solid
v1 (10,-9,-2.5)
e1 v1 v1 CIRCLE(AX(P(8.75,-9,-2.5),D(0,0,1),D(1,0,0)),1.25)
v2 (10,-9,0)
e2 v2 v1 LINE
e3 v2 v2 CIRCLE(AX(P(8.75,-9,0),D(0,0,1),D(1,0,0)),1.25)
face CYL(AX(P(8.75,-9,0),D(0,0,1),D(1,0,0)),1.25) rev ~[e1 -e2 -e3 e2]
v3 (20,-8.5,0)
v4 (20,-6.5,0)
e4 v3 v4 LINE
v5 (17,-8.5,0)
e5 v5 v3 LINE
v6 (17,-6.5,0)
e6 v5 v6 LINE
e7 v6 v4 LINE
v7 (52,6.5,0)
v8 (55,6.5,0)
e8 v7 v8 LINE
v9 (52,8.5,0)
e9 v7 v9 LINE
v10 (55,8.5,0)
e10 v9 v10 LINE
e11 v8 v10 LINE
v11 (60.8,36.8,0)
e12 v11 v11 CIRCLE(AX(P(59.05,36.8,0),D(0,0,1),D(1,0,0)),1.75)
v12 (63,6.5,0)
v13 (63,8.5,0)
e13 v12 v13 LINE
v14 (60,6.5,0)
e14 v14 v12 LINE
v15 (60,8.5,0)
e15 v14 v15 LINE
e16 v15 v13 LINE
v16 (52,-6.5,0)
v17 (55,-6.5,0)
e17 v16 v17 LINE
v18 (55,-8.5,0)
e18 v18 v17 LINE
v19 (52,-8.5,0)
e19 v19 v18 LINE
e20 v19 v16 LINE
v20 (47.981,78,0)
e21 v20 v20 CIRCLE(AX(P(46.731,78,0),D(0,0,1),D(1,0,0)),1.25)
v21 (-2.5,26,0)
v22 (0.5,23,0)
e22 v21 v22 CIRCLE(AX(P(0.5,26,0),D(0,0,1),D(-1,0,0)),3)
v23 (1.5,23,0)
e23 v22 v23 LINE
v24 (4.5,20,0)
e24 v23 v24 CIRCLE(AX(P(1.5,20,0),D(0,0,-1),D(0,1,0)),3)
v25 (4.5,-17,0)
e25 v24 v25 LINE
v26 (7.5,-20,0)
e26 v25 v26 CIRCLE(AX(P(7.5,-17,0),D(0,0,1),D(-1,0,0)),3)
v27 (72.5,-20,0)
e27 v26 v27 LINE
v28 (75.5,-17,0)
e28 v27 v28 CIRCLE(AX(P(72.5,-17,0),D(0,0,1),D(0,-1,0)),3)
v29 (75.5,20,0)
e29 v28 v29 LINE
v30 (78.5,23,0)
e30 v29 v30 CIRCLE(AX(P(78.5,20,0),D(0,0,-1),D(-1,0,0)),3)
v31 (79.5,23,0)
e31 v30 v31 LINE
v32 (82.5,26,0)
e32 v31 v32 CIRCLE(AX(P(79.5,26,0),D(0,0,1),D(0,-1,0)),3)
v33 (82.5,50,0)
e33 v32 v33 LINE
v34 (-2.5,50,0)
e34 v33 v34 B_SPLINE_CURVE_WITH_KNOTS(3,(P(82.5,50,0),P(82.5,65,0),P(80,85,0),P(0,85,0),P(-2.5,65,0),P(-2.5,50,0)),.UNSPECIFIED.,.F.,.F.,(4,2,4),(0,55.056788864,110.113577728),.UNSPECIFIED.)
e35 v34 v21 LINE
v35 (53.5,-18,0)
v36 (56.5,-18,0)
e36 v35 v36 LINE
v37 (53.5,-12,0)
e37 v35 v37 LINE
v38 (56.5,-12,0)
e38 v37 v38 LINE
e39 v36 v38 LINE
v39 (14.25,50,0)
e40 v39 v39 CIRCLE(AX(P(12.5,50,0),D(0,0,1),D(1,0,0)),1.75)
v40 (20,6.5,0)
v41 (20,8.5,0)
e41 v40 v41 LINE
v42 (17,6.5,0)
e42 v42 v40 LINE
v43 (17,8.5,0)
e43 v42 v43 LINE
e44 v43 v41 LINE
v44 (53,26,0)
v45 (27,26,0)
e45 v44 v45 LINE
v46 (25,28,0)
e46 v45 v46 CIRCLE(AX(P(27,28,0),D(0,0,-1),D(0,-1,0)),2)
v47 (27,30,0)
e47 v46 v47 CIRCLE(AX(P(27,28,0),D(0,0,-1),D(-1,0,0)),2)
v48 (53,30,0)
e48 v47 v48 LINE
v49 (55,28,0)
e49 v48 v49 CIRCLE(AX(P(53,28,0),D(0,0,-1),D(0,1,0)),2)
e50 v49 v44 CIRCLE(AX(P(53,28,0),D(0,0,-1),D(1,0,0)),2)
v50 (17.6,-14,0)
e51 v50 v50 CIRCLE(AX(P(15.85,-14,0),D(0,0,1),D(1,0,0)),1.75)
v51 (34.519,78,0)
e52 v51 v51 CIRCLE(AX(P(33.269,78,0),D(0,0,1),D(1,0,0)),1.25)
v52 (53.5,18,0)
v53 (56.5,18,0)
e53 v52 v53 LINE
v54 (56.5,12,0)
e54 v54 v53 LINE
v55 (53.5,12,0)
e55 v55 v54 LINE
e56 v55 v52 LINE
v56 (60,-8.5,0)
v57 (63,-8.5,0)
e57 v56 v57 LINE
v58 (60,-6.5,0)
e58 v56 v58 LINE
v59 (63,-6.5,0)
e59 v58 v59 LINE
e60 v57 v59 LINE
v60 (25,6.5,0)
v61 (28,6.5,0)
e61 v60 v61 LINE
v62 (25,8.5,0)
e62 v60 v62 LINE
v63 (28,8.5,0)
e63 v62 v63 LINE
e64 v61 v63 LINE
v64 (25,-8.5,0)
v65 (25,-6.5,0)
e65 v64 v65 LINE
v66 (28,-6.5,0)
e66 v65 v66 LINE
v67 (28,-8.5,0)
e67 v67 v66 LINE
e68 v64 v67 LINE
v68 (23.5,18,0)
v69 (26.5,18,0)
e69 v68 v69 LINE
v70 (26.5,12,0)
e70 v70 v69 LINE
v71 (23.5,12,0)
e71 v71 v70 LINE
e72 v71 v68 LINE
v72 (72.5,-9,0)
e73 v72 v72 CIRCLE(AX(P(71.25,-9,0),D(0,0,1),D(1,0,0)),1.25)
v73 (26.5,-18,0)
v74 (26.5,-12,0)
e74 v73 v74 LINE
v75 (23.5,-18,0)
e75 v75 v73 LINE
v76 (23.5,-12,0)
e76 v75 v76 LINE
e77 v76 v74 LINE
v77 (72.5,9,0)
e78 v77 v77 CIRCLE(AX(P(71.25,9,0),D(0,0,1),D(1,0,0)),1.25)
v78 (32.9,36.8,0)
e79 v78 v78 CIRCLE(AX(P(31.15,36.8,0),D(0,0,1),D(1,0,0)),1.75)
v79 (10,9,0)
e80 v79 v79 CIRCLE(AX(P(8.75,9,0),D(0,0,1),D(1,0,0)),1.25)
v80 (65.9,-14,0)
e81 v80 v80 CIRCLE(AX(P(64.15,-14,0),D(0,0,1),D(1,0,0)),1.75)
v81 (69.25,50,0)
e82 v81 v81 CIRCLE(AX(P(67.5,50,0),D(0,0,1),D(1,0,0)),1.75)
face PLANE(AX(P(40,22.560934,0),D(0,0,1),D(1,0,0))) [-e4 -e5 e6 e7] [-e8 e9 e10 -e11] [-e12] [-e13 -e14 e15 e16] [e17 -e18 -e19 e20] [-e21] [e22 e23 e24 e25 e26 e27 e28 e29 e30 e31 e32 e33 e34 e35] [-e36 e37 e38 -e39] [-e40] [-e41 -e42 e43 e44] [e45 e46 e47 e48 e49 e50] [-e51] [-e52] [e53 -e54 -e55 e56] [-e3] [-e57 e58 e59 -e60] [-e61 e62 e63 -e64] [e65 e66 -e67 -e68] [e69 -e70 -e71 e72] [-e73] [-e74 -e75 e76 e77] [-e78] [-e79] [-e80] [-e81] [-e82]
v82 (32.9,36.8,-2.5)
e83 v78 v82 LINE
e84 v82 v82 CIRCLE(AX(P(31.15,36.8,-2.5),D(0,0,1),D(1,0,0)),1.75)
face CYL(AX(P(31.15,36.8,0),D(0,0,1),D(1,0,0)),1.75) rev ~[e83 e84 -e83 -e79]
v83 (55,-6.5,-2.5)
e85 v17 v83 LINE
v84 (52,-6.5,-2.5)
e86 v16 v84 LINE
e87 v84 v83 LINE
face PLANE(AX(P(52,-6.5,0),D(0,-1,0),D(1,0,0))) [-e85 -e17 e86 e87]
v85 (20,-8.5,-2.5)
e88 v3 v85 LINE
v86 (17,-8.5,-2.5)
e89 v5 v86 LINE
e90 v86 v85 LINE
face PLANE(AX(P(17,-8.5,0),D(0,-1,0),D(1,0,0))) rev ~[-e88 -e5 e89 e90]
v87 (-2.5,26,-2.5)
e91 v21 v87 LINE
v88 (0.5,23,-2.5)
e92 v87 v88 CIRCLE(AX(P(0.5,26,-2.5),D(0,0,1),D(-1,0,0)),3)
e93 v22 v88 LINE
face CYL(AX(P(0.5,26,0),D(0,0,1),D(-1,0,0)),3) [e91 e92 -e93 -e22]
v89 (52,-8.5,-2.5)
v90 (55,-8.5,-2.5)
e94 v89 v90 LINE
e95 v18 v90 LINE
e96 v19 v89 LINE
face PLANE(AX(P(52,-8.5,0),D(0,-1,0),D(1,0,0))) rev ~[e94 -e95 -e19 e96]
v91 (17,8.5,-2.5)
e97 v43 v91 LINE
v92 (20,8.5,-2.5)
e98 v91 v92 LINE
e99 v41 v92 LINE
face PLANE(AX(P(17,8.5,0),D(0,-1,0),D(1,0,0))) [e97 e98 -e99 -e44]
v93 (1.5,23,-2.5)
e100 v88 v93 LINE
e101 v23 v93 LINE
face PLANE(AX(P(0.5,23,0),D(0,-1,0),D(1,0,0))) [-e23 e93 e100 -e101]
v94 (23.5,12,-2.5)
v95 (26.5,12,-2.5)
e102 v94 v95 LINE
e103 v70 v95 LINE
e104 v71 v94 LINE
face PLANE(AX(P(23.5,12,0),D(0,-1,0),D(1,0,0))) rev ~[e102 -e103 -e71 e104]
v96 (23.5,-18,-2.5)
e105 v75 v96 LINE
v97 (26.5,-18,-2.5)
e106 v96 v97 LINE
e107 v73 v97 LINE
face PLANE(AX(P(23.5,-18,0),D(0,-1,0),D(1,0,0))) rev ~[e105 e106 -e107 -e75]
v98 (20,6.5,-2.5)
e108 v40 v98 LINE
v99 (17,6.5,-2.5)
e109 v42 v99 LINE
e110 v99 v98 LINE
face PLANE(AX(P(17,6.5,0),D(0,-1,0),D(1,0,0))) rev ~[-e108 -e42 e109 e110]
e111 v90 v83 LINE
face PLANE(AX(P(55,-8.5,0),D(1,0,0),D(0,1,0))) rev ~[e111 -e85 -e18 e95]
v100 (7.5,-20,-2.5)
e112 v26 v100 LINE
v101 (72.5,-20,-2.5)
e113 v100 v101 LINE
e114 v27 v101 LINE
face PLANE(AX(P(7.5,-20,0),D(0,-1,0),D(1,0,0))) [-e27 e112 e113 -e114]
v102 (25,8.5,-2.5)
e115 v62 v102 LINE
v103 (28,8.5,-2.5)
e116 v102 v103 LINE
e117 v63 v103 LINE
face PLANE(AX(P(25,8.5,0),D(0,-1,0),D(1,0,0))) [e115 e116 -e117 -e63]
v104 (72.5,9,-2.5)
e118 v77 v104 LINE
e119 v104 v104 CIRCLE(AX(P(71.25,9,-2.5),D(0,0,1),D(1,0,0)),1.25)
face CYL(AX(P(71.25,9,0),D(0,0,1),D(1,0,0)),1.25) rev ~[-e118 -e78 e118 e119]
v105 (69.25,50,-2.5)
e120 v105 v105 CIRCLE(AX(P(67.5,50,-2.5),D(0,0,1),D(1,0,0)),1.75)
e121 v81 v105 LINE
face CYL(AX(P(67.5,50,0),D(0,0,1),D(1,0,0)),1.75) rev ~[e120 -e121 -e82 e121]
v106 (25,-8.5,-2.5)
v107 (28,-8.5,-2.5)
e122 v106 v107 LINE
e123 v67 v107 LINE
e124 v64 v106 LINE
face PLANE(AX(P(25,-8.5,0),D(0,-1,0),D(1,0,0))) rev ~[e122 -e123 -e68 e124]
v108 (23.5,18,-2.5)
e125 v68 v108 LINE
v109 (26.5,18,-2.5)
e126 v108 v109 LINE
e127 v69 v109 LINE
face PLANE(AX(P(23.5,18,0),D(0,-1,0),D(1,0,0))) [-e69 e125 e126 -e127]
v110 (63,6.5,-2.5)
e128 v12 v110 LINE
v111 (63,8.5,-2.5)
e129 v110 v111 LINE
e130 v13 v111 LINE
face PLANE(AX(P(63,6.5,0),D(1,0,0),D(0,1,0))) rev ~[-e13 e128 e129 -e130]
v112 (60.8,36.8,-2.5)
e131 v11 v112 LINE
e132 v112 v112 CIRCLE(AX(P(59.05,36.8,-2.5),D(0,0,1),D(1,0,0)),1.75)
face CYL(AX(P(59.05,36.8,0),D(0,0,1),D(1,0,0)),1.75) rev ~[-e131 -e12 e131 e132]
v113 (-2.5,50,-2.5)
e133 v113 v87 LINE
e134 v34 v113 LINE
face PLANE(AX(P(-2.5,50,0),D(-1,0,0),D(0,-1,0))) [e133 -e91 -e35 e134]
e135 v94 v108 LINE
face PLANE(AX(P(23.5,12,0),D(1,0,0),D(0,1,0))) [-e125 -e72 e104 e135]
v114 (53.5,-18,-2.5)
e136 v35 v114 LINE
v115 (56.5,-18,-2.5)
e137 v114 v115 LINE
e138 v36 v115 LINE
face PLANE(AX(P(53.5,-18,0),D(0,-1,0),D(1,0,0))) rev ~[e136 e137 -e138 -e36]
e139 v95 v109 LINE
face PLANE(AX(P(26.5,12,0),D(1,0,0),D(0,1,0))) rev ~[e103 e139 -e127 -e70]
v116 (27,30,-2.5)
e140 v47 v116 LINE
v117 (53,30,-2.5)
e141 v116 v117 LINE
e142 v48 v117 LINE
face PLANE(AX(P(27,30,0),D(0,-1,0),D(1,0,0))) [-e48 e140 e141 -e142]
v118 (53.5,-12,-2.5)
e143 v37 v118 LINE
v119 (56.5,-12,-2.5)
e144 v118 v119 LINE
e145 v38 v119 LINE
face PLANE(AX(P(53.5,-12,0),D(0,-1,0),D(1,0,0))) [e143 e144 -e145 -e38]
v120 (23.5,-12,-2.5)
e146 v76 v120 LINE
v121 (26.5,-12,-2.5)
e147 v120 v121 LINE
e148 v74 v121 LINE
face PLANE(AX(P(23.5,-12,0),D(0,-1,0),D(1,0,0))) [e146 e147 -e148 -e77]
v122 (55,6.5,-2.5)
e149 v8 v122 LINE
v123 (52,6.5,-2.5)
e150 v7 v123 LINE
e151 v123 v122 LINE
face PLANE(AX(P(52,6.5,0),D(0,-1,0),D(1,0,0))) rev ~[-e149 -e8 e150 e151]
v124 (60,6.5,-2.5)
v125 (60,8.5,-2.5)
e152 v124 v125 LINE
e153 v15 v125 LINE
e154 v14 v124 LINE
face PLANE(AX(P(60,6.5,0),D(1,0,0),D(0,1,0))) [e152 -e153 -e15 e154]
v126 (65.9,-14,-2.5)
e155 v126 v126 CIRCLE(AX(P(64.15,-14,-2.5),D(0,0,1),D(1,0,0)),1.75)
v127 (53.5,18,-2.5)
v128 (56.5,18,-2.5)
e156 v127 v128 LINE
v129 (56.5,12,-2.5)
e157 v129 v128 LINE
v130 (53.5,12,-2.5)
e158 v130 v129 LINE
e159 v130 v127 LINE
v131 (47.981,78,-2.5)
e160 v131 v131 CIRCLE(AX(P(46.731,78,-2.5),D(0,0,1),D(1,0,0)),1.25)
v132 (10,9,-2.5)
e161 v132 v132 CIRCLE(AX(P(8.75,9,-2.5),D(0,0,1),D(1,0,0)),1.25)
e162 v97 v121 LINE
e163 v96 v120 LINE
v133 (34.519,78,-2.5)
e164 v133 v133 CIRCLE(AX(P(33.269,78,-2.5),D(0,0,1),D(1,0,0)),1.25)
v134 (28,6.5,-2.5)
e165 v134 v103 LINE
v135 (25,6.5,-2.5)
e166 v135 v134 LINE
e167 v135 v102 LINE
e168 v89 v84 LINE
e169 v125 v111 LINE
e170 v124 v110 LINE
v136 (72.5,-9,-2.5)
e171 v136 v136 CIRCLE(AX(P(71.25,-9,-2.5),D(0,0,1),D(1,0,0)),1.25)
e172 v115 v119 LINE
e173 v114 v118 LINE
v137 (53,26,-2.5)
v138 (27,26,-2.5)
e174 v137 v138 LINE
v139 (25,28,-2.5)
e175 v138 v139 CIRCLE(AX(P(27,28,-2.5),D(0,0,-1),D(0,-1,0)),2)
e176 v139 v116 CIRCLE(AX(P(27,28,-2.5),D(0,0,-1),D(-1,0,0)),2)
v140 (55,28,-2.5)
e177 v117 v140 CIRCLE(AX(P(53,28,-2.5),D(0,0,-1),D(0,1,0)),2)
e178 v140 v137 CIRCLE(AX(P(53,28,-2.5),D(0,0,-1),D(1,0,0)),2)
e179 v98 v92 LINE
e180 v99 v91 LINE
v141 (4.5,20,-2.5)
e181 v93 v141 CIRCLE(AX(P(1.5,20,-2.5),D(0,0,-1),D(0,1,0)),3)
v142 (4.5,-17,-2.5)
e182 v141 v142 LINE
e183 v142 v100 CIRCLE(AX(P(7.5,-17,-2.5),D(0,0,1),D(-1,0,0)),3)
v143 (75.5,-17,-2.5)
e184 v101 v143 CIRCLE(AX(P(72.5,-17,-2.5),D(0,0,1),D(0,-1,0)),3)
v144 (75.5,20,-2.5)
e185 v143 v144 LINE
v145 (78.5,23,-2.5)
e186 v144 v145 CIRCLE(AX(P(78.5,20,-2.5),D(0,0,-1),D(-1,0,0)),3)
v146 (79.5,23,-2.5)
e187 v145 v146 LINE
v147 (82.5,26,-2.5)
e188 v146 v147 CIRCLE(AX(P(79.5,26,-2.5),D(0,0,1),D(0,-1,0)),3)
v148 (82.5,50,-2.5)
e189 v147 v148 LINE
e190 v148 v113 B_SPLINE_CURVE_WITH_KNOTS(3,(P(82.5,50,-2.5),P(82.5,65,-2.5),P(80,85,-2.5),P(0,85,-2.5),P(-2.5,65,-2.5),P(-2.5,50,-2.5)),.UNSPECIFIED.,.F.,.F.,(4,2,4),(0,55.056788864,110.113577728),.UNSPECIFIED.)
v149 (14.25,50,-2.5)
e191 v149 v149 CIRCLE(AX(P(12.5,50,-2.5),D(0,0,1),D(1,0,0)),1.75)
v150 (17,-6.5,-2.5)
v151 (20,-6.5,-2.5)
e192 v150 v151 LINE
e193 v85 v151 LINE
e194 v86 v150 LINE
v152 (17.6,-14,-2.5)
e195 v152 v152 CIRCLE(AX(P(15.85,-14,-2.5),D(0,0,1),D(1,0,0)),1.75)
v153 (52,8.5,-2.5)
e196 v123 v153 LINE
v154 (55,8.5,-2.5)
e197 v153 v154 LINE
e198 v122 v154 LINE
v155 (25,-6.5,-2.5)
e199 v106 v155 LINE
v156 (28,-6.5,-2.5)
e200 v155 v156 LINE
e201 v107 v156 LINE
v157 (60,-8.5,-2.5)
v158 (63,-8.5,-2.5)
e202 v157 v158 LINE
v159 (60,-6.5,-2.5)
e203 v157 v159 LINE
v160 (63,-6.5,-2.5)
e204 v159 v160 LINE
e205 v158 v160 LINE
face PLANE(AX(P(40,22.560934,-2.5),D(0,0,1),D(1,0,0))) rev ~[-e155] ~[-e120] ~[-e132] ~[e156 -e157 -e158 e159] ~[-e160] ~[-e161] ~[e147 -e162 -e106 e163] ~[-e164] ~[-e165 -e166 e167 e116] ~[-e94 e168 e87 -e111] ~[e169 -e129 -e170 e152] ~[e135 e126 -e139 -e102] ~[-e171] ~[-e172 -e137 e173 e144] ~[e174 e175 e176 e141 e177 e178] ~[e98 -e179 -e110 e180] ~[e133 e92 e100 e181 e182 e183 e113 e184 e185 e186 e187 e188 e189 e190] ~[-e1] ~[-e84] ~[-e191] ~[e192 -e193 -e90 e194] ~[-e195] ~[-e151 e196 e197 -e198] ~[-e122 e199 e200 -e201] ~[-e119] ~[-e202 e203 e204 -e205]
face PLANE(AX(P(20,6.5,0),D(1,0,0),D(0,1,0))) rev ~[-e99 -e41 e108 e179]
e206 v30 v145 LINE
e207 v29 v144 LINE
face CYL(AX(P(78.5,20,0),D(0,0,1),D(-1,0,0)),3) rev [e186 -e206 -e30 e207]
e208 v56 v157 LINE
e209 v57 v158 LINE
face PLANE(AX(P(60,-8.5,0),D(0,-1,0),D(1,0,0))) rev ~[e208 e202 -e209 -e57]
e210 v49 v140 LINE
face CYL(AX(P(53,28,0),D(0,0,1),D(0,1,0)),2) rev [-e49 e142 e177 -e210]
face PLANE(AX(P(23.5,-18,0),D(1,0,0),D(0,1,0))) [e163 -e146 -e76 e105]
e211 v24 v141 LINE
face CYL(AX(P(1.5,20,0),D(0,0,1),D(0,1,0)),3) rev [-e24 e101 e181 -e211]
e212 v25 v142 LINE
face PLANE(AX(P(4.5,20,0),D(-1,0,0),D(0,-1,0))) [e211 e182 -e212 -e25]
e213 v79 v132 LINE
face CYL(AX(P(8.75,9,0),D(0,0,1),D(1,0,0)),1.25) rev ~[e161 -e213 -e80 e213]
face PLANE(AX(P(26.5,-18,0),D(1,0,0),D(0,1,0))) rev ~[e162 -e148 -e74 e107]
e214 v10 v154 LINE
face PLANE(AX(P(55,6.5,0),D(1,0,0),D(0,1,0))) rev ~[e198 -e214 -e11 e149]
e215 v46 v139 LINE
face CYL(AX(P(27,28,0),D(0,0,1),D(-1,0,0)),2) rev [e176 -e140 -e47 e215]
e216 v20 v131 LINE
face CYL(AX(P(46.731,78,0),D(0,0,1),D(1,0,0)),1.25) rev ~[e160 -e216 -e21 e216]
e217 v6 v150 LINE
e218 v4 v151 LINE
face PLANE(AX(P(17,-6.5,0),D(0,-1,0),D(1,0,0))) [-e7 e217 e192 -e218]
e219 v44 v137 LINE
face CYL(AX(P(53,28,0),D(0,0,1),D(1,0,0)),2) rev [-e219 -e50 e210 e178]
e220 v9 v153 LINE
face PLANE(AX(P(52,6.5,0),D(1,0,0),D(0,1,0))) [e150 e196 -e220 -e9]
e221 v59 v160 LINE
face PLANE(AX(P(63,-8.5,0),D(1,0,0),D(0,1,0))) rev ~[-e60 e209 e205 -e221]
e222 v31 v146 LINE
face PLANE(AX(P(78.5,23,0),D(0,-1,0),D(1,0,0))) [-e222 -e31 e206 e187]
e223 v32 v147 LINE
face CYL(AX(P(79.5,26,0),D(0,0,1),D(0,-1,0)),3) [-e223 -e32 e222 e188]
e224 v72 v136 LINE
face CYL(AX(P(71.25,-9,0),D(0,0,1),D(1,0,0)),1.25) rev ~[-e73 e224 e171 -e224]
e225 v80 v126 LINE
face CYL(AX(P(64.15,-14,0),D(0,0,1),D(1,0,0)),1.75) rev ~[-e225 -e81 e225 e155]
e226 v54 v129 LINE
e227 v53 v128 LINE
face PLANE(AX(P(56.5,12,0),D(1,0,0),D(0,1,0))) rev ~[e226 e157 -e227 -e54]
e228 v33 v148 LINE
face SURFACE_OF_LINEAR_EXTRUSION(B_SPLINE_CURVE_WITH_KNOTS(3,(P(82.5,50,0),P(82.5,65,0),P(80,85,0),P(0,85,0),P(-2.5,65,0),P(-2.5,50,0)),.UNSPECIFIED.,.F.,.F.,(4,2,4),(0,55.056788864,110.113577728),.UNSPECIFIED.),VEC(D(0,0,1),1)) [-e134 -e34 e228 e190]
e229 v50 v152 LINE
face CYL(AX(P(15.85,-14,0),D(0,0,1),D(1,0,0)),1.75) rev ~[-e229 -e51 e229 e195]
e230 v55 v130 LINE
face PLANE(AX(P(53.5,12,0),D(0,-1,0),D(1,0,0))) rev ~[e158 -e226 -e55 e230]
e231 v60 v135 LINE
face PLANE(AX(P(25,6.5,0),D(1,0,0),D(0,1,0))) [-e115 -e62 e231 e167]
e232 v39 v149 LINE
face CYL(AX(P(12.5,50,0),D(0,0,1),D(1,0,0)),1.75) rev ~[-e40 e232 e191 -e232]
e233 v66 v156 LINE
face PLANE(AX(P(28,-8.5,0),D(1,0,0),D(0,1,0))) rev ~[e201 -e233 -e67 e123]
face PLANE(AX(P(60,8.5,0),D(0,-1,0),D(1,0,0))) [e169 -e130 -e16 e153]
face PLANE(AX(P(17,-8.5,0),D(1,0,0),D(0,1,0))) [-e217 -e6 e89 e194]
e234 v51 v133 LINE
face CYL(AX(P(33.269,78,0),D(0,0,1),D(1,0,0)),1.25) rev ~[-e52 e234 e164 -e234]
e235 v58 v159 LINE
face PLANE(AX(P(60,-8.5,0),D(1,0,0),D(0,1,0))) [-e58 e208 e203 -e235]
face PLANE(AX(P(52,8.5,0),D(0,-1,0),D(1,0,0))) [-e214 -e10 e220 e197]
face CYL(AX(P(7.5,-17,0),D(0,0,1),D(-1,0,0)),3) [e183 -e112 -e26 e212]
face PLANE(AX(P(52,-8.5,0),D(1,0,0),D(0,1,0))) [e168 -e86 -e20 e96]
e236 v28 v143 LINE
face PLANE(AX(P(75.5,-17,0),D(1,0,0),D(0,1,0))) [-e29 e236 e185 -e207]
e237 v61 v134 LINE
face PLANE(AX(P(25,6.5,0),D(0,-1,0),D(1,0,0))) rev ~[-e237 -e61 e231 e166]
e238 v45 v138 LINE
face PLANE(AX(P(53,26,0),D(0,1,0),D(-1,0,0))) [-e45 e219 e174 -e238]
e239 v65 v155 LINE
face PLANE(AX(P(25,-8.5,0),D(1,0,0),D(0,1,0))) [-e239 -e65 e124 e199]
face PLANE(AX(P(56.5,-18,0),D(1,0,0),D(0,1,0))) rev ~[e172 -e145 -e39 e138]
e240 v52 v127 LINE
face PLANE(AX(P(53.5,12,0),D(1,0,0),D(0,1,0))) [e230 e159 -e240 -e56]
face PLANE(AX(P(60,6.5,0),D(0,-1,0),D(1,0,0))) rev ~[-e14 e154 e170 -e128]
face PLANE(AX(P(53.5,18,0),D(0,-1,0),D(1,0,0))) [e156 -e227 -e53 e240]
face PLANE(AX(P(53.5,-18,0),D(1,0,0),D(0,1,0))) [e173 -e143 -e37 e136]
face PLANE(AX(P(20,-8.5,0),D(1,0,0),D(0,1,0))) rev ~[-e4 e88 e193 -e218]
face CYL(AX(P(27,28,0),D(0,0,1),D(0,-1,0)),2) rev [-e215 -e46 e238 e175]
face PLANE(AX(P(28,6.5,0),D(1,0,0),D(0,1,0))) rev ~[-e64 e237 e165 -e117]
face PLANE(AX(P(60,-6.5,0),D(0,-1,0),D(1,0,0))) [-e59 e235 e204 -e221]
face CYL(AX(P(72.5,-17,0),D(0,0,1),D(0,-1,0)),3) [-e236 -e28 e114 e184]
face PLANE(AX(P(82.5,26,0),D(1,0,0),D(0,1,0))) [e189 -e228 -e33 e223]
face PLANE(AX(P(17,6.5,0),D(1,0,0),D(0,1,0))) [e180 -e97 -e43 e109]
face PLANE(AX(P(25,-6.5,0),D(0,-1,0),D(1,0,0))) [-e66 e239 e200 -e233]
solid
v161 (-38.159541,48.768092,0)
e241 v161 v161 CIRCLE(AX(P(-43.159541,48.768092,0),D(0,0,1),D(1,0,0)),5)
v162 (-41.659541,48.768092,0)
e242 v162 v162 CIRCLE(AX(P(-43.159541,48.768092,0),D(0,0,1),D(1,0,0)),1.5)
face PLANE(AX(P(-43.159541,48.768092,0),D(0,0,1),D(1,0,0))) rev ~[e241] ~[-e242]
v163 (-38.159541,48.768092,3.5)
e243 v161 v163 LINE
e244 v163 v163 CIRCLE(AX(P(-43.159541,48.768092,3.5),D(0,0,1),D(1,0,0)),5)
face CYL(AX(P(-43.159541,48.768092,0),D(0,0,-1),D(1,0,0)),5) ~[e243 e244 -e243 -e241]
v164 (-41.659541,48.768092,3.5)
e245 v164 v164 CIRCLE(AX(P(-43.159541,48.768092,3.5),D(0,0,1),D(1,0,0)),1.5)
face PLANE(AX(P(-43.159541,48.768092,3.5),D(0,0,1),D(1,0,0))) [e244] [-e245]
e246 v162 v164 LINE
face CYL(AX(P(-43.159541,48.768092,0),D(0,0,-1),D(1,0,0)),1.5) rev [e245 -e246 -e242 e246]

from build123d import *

# Parameters (mm, degrees)
F0_R     = 1.75
F0_R_2   = 1.25
F0_W     = 3
F0_H     = 2
F0_H_2   = 6
F1_DEPTH = 2.5
F2_R     = 5
F2_R_2   = 1.5
F3_DEPTH = 3.5


with BuildPart() as f1:
    # F0 (on Top) → F1 (new body)
    with BuildSketch(Plane.XY):
        with BuildLine():
            Line((4.5, 20), (4.5, 6))
            Line((4.5, 6), (31.5, 6))
            Line((31.5, 6), (31.5, -6))
            Line((31.5, -6), (5.5, -6))
            Line((5.5, -6), (4.5, -6))
            Line((4.5, -6), (4.5, -17))
            ThreePointArc((4.5, -17), (5.3786796564, -19.1213203436), (7.5, -20))
            Line((7.5, -20), (40, -20))
            Line((40, -20), (72.5, -20))
            ThreePointArc((72.5, -20), (74.6213203436, -19.1213203436), (75.5, -17))
            Line((75.5, -17), (75.5, -6))
            Line((75.5, -6), (74.5, -6))
            Line((74.5, -6), (48.5, -6))
            Line((48.5, -6), (48.5, 6))
            Line((48.5, 6), (75.5, 6))
            Line((75.5, 6), (75.5, 20))
            ThreePointArc((75.5, 20), (76.3786796564, 22.1213203436), (78.5, 23))
            Line((78.5, 23), (79.5, 23))
            ThreePointArc((79.5, 23), (81.6213203436, 23.8786796564), (82.5, 26))
            Line((82.5, 26), (82.5, 50))
            add(Edge.make_bspline(
                [(40, 85), (80, 85), (82.5, 65), (82.5, 50)],
                knots=[0, 0, 0, 0, 55.0567888639, 55.0567888639, 55.0567888639, 55.0567888639], degree=3))
            add(Edge.make_bspline(
                [(40, 85), (0, 85), (-2.5, 65), (-2.5, 50)],
                knots=[0, 0, 0, 0, 55.0567888639, 55.0567888639, 55.0567888639, 55.0567888639], degree=3))
            Line((-2.5, 50), (-2.5, 26))
            ThreePointArc((-2.5, 26), (-1.6213203436, 23.8786796564), (0.5, 23))
            Line((0.5, 23), (1.5, 23))
            ThreePointArc((1.5, 23), (3.6213203436, 22.1213203436), (4.5, 20))
        make_face()
        with Locations((15.85, -14)):
            Circle(F0_R, mode=Mode.SUBTRACT)
        with Locations((8.75, -9)):
            Circle(F0_R_2, mode=Mode.SUBTRACT)
        with Locations((18.5, -7.5)):
            Rectangle(F0_W, F0_H, mode=Mode.SUBTRACT)
        with Locations((25, -15)):
            Rectangle(F0_W, F0_H_2, mode=Mode.SUBTRACT)
        with Locations((26.5, -7.5)):
            Rectangle(F0_W, F0_H, mode=Mode.SUBTRACT)
        with Locations((8.75, 9)):
            Circle(F0_R_2, mode=Mode.SUBTRACT)
        with Locations((18.5, 7.5)):
            Rectangle(F0_W, F0_H, mode=Mode.SUBTRACT)
        with Locations((26.5, 7.5)):
            Rectangle(F0_W, F0_H, mode=Mode.SUBTRACT)
        with Locations((25, 15)):
            Rectangle(F0_W, F0_H_2, mode=Mode.SUBTRACT)
        with Locations((55, -15)):
            Rectangle(F0_W, F0_H_2, mode=Mode.SUBTRACT)
        with Locations((53.5, -7.5)):
            Rectangle(F0_W, F0_H, mode=Mode.SUBTRACT)
        with Locations((64.15, -14)):
            Circle(F0_R, mode=Mode.SUBTRACT)
        with Locations((61.5, -7.5)):
            Rectangle(F0_W, F0_H, mode=Mode.SUBTRACT)
        with Locations((71.25, -9)):
            Circle(F0_R_2, mode=Mode.SUBTRACT)
        with Locations((53.5, 7.5)):
            Rectangle(F0_W, F0_H, mode=Mode.SUBTRACT)
        with Locations((55, 15)):
            Rectangle(F0_W, F0_H_2, mode=Mode.SUBTRACT)
        with BuildLine():
            Line((27, 30), (40, 30))
            Line((40, 30), (53, 30))
            ThreePointArc((53, 30), (54.4142135624, 29.4142135624), (55, 28))
            ThreePointArc((55, 28), (54.4142135624, 26.5857864376), (53, 26))
            Line((53, 26), (40, 26))
            Line((40, 26), (27, 26))
            ThreePointArc((27, 26), (25.5857864376, 26.5857864376), (25, 28))
            ThreePointArc((25, 28), (25.5857864376, 29.4142135624), (27, 30))
        make_face(mode=Mode.SUBTRACT)
        with Locations((61.5, 7.5)):
            Rectangle(F0_W, F0_H, mode=Mode.SUBTRACT)
        with Locations((71.25, 9)):
            Circle(F0_R_2, mode=Mode.SUBTRACT)
        with Locations((12.5, 50)):
            Circle(F0_R, mode=Mode.SUBTRACT)
        with Locations((31.15, 36.8)):
            Circle(F0_R, mode=Mode.SUBTRACT)
        with Locations((33.269, 78)):
            Circle(F0_R_2, mode=Mode.SUBTRACT)
        with Locations((59.05, 36.8)):
            Circle(F0_R, mode=Mode.SUBTRACT)
        with Locations((67.5, 50)):
            Circle(F0_R, mode=Mode.SUBTRACT)
        with BuildLine():
            ThreePointArc((12.5, 55), (8.9644660941, 56.4644660941), (7.5, 60))
            Line((7.5, 60), (7.5, 65))
            ThreePointArc((7.5, 65), (8.9644660941, 68.5355339059), (12.5, 70))
            Line((12.5, 70), (40, 70))
            Line((40, 70), (67.5, 70))
            ThreePointArc((67.5, 70), (71.0355339059, 68.5355339059), (72.5, 65))
            Line((72.5, 65), (72.5, 60))
            ThreePointArc((72.5, 60), (71.0355339059, 56.4644660941), (67.5, 55))
            ThreePointArc((67.5, 55), (63.9644660941, 53.5355339059), (62.5, 50))
            ThreePointArc((62.5, 50), (61.9142135624, 48.5857864376), (60.5, 48))
            Line((60.5, 48), (40, 48))
            Line((40, 48), (19.5, 48))
            ThreePointArc((19.5, 48), (18.0857864376, 48.5857864376), (17.5, 50))
            ThreePointArc((17.5, 50), (16.0355339059, 53.5355339059), (12.5, 55))
        make_face(mode=Mode.SUBTRACT)
        with Locations((46.731, 78)):
            Circle(F0_R_2, mode=Mode.SUBTRACT)
        with BuildLine():
            Line((7.5, 65), (7.5, 60))
            ThreePointArc((7.5, 60), (8.9644660941, 56.4644660941), (12.5, 55))
            ThreePointArc((12.5, 55), (16.0355339059, 53.5355339059), (17.5, 50))
            ThreePointArc((17.5, 50), (18.0857864376, 48.5857864376), (19.5, 48))
            Line((19.5, 48), (40, 48))
            Line((40, 48), (60.5, 48))
            ThreePointArc((60.5, 48), (61.9142135624, 48.5857864376), (62.5, 50))
            ThreePointArc((62.5, 50), (63.9644660941, 53.5355339059), (67.5, 55))
            ThreePointArc((67.5, 55), (71.0355339059, 56.4644660941), (72.5, 60))
            Line((72.5, 60), (72.5, 65))
            ThreePointArc((72.5, 65), (71.0355339059, 68.5355339059), (67.5, 70))
            Line((67.5, 70), (40, 70))
            Line((40, 70), (12.5, 70))
            ThreePointArc((12.5, 70), (8.9644660941, 68.5355339059), (7.5, 65))
        make_face()
        Polygon((31.5, 6), (4.5, 6), (4.5, -6), (5.5, -6), (31.5, -6), align=None)
        Polygon((74.5, -6), (75.5, -6), (75.5, 6), (48.5, 6), (48.5, -6), align=None)
    extrude(amount=-F1_DEPTH)


with BuildPart() as f3:
    # F2 (on Top) → F3 (new body)
    with BuildSketch(Plane.XY):
        with Locations((-43.1595407426, 48.7680919468)):
            Circle(F2_R)
        with Locations((-43.1595407426, 48.7680919468)):
            Circle(F2_R_2, mode=Mode.SUBTRACT)
    extrude(amount=F3_DEPTH)


solid = Compound([f1.part, f3.part])
